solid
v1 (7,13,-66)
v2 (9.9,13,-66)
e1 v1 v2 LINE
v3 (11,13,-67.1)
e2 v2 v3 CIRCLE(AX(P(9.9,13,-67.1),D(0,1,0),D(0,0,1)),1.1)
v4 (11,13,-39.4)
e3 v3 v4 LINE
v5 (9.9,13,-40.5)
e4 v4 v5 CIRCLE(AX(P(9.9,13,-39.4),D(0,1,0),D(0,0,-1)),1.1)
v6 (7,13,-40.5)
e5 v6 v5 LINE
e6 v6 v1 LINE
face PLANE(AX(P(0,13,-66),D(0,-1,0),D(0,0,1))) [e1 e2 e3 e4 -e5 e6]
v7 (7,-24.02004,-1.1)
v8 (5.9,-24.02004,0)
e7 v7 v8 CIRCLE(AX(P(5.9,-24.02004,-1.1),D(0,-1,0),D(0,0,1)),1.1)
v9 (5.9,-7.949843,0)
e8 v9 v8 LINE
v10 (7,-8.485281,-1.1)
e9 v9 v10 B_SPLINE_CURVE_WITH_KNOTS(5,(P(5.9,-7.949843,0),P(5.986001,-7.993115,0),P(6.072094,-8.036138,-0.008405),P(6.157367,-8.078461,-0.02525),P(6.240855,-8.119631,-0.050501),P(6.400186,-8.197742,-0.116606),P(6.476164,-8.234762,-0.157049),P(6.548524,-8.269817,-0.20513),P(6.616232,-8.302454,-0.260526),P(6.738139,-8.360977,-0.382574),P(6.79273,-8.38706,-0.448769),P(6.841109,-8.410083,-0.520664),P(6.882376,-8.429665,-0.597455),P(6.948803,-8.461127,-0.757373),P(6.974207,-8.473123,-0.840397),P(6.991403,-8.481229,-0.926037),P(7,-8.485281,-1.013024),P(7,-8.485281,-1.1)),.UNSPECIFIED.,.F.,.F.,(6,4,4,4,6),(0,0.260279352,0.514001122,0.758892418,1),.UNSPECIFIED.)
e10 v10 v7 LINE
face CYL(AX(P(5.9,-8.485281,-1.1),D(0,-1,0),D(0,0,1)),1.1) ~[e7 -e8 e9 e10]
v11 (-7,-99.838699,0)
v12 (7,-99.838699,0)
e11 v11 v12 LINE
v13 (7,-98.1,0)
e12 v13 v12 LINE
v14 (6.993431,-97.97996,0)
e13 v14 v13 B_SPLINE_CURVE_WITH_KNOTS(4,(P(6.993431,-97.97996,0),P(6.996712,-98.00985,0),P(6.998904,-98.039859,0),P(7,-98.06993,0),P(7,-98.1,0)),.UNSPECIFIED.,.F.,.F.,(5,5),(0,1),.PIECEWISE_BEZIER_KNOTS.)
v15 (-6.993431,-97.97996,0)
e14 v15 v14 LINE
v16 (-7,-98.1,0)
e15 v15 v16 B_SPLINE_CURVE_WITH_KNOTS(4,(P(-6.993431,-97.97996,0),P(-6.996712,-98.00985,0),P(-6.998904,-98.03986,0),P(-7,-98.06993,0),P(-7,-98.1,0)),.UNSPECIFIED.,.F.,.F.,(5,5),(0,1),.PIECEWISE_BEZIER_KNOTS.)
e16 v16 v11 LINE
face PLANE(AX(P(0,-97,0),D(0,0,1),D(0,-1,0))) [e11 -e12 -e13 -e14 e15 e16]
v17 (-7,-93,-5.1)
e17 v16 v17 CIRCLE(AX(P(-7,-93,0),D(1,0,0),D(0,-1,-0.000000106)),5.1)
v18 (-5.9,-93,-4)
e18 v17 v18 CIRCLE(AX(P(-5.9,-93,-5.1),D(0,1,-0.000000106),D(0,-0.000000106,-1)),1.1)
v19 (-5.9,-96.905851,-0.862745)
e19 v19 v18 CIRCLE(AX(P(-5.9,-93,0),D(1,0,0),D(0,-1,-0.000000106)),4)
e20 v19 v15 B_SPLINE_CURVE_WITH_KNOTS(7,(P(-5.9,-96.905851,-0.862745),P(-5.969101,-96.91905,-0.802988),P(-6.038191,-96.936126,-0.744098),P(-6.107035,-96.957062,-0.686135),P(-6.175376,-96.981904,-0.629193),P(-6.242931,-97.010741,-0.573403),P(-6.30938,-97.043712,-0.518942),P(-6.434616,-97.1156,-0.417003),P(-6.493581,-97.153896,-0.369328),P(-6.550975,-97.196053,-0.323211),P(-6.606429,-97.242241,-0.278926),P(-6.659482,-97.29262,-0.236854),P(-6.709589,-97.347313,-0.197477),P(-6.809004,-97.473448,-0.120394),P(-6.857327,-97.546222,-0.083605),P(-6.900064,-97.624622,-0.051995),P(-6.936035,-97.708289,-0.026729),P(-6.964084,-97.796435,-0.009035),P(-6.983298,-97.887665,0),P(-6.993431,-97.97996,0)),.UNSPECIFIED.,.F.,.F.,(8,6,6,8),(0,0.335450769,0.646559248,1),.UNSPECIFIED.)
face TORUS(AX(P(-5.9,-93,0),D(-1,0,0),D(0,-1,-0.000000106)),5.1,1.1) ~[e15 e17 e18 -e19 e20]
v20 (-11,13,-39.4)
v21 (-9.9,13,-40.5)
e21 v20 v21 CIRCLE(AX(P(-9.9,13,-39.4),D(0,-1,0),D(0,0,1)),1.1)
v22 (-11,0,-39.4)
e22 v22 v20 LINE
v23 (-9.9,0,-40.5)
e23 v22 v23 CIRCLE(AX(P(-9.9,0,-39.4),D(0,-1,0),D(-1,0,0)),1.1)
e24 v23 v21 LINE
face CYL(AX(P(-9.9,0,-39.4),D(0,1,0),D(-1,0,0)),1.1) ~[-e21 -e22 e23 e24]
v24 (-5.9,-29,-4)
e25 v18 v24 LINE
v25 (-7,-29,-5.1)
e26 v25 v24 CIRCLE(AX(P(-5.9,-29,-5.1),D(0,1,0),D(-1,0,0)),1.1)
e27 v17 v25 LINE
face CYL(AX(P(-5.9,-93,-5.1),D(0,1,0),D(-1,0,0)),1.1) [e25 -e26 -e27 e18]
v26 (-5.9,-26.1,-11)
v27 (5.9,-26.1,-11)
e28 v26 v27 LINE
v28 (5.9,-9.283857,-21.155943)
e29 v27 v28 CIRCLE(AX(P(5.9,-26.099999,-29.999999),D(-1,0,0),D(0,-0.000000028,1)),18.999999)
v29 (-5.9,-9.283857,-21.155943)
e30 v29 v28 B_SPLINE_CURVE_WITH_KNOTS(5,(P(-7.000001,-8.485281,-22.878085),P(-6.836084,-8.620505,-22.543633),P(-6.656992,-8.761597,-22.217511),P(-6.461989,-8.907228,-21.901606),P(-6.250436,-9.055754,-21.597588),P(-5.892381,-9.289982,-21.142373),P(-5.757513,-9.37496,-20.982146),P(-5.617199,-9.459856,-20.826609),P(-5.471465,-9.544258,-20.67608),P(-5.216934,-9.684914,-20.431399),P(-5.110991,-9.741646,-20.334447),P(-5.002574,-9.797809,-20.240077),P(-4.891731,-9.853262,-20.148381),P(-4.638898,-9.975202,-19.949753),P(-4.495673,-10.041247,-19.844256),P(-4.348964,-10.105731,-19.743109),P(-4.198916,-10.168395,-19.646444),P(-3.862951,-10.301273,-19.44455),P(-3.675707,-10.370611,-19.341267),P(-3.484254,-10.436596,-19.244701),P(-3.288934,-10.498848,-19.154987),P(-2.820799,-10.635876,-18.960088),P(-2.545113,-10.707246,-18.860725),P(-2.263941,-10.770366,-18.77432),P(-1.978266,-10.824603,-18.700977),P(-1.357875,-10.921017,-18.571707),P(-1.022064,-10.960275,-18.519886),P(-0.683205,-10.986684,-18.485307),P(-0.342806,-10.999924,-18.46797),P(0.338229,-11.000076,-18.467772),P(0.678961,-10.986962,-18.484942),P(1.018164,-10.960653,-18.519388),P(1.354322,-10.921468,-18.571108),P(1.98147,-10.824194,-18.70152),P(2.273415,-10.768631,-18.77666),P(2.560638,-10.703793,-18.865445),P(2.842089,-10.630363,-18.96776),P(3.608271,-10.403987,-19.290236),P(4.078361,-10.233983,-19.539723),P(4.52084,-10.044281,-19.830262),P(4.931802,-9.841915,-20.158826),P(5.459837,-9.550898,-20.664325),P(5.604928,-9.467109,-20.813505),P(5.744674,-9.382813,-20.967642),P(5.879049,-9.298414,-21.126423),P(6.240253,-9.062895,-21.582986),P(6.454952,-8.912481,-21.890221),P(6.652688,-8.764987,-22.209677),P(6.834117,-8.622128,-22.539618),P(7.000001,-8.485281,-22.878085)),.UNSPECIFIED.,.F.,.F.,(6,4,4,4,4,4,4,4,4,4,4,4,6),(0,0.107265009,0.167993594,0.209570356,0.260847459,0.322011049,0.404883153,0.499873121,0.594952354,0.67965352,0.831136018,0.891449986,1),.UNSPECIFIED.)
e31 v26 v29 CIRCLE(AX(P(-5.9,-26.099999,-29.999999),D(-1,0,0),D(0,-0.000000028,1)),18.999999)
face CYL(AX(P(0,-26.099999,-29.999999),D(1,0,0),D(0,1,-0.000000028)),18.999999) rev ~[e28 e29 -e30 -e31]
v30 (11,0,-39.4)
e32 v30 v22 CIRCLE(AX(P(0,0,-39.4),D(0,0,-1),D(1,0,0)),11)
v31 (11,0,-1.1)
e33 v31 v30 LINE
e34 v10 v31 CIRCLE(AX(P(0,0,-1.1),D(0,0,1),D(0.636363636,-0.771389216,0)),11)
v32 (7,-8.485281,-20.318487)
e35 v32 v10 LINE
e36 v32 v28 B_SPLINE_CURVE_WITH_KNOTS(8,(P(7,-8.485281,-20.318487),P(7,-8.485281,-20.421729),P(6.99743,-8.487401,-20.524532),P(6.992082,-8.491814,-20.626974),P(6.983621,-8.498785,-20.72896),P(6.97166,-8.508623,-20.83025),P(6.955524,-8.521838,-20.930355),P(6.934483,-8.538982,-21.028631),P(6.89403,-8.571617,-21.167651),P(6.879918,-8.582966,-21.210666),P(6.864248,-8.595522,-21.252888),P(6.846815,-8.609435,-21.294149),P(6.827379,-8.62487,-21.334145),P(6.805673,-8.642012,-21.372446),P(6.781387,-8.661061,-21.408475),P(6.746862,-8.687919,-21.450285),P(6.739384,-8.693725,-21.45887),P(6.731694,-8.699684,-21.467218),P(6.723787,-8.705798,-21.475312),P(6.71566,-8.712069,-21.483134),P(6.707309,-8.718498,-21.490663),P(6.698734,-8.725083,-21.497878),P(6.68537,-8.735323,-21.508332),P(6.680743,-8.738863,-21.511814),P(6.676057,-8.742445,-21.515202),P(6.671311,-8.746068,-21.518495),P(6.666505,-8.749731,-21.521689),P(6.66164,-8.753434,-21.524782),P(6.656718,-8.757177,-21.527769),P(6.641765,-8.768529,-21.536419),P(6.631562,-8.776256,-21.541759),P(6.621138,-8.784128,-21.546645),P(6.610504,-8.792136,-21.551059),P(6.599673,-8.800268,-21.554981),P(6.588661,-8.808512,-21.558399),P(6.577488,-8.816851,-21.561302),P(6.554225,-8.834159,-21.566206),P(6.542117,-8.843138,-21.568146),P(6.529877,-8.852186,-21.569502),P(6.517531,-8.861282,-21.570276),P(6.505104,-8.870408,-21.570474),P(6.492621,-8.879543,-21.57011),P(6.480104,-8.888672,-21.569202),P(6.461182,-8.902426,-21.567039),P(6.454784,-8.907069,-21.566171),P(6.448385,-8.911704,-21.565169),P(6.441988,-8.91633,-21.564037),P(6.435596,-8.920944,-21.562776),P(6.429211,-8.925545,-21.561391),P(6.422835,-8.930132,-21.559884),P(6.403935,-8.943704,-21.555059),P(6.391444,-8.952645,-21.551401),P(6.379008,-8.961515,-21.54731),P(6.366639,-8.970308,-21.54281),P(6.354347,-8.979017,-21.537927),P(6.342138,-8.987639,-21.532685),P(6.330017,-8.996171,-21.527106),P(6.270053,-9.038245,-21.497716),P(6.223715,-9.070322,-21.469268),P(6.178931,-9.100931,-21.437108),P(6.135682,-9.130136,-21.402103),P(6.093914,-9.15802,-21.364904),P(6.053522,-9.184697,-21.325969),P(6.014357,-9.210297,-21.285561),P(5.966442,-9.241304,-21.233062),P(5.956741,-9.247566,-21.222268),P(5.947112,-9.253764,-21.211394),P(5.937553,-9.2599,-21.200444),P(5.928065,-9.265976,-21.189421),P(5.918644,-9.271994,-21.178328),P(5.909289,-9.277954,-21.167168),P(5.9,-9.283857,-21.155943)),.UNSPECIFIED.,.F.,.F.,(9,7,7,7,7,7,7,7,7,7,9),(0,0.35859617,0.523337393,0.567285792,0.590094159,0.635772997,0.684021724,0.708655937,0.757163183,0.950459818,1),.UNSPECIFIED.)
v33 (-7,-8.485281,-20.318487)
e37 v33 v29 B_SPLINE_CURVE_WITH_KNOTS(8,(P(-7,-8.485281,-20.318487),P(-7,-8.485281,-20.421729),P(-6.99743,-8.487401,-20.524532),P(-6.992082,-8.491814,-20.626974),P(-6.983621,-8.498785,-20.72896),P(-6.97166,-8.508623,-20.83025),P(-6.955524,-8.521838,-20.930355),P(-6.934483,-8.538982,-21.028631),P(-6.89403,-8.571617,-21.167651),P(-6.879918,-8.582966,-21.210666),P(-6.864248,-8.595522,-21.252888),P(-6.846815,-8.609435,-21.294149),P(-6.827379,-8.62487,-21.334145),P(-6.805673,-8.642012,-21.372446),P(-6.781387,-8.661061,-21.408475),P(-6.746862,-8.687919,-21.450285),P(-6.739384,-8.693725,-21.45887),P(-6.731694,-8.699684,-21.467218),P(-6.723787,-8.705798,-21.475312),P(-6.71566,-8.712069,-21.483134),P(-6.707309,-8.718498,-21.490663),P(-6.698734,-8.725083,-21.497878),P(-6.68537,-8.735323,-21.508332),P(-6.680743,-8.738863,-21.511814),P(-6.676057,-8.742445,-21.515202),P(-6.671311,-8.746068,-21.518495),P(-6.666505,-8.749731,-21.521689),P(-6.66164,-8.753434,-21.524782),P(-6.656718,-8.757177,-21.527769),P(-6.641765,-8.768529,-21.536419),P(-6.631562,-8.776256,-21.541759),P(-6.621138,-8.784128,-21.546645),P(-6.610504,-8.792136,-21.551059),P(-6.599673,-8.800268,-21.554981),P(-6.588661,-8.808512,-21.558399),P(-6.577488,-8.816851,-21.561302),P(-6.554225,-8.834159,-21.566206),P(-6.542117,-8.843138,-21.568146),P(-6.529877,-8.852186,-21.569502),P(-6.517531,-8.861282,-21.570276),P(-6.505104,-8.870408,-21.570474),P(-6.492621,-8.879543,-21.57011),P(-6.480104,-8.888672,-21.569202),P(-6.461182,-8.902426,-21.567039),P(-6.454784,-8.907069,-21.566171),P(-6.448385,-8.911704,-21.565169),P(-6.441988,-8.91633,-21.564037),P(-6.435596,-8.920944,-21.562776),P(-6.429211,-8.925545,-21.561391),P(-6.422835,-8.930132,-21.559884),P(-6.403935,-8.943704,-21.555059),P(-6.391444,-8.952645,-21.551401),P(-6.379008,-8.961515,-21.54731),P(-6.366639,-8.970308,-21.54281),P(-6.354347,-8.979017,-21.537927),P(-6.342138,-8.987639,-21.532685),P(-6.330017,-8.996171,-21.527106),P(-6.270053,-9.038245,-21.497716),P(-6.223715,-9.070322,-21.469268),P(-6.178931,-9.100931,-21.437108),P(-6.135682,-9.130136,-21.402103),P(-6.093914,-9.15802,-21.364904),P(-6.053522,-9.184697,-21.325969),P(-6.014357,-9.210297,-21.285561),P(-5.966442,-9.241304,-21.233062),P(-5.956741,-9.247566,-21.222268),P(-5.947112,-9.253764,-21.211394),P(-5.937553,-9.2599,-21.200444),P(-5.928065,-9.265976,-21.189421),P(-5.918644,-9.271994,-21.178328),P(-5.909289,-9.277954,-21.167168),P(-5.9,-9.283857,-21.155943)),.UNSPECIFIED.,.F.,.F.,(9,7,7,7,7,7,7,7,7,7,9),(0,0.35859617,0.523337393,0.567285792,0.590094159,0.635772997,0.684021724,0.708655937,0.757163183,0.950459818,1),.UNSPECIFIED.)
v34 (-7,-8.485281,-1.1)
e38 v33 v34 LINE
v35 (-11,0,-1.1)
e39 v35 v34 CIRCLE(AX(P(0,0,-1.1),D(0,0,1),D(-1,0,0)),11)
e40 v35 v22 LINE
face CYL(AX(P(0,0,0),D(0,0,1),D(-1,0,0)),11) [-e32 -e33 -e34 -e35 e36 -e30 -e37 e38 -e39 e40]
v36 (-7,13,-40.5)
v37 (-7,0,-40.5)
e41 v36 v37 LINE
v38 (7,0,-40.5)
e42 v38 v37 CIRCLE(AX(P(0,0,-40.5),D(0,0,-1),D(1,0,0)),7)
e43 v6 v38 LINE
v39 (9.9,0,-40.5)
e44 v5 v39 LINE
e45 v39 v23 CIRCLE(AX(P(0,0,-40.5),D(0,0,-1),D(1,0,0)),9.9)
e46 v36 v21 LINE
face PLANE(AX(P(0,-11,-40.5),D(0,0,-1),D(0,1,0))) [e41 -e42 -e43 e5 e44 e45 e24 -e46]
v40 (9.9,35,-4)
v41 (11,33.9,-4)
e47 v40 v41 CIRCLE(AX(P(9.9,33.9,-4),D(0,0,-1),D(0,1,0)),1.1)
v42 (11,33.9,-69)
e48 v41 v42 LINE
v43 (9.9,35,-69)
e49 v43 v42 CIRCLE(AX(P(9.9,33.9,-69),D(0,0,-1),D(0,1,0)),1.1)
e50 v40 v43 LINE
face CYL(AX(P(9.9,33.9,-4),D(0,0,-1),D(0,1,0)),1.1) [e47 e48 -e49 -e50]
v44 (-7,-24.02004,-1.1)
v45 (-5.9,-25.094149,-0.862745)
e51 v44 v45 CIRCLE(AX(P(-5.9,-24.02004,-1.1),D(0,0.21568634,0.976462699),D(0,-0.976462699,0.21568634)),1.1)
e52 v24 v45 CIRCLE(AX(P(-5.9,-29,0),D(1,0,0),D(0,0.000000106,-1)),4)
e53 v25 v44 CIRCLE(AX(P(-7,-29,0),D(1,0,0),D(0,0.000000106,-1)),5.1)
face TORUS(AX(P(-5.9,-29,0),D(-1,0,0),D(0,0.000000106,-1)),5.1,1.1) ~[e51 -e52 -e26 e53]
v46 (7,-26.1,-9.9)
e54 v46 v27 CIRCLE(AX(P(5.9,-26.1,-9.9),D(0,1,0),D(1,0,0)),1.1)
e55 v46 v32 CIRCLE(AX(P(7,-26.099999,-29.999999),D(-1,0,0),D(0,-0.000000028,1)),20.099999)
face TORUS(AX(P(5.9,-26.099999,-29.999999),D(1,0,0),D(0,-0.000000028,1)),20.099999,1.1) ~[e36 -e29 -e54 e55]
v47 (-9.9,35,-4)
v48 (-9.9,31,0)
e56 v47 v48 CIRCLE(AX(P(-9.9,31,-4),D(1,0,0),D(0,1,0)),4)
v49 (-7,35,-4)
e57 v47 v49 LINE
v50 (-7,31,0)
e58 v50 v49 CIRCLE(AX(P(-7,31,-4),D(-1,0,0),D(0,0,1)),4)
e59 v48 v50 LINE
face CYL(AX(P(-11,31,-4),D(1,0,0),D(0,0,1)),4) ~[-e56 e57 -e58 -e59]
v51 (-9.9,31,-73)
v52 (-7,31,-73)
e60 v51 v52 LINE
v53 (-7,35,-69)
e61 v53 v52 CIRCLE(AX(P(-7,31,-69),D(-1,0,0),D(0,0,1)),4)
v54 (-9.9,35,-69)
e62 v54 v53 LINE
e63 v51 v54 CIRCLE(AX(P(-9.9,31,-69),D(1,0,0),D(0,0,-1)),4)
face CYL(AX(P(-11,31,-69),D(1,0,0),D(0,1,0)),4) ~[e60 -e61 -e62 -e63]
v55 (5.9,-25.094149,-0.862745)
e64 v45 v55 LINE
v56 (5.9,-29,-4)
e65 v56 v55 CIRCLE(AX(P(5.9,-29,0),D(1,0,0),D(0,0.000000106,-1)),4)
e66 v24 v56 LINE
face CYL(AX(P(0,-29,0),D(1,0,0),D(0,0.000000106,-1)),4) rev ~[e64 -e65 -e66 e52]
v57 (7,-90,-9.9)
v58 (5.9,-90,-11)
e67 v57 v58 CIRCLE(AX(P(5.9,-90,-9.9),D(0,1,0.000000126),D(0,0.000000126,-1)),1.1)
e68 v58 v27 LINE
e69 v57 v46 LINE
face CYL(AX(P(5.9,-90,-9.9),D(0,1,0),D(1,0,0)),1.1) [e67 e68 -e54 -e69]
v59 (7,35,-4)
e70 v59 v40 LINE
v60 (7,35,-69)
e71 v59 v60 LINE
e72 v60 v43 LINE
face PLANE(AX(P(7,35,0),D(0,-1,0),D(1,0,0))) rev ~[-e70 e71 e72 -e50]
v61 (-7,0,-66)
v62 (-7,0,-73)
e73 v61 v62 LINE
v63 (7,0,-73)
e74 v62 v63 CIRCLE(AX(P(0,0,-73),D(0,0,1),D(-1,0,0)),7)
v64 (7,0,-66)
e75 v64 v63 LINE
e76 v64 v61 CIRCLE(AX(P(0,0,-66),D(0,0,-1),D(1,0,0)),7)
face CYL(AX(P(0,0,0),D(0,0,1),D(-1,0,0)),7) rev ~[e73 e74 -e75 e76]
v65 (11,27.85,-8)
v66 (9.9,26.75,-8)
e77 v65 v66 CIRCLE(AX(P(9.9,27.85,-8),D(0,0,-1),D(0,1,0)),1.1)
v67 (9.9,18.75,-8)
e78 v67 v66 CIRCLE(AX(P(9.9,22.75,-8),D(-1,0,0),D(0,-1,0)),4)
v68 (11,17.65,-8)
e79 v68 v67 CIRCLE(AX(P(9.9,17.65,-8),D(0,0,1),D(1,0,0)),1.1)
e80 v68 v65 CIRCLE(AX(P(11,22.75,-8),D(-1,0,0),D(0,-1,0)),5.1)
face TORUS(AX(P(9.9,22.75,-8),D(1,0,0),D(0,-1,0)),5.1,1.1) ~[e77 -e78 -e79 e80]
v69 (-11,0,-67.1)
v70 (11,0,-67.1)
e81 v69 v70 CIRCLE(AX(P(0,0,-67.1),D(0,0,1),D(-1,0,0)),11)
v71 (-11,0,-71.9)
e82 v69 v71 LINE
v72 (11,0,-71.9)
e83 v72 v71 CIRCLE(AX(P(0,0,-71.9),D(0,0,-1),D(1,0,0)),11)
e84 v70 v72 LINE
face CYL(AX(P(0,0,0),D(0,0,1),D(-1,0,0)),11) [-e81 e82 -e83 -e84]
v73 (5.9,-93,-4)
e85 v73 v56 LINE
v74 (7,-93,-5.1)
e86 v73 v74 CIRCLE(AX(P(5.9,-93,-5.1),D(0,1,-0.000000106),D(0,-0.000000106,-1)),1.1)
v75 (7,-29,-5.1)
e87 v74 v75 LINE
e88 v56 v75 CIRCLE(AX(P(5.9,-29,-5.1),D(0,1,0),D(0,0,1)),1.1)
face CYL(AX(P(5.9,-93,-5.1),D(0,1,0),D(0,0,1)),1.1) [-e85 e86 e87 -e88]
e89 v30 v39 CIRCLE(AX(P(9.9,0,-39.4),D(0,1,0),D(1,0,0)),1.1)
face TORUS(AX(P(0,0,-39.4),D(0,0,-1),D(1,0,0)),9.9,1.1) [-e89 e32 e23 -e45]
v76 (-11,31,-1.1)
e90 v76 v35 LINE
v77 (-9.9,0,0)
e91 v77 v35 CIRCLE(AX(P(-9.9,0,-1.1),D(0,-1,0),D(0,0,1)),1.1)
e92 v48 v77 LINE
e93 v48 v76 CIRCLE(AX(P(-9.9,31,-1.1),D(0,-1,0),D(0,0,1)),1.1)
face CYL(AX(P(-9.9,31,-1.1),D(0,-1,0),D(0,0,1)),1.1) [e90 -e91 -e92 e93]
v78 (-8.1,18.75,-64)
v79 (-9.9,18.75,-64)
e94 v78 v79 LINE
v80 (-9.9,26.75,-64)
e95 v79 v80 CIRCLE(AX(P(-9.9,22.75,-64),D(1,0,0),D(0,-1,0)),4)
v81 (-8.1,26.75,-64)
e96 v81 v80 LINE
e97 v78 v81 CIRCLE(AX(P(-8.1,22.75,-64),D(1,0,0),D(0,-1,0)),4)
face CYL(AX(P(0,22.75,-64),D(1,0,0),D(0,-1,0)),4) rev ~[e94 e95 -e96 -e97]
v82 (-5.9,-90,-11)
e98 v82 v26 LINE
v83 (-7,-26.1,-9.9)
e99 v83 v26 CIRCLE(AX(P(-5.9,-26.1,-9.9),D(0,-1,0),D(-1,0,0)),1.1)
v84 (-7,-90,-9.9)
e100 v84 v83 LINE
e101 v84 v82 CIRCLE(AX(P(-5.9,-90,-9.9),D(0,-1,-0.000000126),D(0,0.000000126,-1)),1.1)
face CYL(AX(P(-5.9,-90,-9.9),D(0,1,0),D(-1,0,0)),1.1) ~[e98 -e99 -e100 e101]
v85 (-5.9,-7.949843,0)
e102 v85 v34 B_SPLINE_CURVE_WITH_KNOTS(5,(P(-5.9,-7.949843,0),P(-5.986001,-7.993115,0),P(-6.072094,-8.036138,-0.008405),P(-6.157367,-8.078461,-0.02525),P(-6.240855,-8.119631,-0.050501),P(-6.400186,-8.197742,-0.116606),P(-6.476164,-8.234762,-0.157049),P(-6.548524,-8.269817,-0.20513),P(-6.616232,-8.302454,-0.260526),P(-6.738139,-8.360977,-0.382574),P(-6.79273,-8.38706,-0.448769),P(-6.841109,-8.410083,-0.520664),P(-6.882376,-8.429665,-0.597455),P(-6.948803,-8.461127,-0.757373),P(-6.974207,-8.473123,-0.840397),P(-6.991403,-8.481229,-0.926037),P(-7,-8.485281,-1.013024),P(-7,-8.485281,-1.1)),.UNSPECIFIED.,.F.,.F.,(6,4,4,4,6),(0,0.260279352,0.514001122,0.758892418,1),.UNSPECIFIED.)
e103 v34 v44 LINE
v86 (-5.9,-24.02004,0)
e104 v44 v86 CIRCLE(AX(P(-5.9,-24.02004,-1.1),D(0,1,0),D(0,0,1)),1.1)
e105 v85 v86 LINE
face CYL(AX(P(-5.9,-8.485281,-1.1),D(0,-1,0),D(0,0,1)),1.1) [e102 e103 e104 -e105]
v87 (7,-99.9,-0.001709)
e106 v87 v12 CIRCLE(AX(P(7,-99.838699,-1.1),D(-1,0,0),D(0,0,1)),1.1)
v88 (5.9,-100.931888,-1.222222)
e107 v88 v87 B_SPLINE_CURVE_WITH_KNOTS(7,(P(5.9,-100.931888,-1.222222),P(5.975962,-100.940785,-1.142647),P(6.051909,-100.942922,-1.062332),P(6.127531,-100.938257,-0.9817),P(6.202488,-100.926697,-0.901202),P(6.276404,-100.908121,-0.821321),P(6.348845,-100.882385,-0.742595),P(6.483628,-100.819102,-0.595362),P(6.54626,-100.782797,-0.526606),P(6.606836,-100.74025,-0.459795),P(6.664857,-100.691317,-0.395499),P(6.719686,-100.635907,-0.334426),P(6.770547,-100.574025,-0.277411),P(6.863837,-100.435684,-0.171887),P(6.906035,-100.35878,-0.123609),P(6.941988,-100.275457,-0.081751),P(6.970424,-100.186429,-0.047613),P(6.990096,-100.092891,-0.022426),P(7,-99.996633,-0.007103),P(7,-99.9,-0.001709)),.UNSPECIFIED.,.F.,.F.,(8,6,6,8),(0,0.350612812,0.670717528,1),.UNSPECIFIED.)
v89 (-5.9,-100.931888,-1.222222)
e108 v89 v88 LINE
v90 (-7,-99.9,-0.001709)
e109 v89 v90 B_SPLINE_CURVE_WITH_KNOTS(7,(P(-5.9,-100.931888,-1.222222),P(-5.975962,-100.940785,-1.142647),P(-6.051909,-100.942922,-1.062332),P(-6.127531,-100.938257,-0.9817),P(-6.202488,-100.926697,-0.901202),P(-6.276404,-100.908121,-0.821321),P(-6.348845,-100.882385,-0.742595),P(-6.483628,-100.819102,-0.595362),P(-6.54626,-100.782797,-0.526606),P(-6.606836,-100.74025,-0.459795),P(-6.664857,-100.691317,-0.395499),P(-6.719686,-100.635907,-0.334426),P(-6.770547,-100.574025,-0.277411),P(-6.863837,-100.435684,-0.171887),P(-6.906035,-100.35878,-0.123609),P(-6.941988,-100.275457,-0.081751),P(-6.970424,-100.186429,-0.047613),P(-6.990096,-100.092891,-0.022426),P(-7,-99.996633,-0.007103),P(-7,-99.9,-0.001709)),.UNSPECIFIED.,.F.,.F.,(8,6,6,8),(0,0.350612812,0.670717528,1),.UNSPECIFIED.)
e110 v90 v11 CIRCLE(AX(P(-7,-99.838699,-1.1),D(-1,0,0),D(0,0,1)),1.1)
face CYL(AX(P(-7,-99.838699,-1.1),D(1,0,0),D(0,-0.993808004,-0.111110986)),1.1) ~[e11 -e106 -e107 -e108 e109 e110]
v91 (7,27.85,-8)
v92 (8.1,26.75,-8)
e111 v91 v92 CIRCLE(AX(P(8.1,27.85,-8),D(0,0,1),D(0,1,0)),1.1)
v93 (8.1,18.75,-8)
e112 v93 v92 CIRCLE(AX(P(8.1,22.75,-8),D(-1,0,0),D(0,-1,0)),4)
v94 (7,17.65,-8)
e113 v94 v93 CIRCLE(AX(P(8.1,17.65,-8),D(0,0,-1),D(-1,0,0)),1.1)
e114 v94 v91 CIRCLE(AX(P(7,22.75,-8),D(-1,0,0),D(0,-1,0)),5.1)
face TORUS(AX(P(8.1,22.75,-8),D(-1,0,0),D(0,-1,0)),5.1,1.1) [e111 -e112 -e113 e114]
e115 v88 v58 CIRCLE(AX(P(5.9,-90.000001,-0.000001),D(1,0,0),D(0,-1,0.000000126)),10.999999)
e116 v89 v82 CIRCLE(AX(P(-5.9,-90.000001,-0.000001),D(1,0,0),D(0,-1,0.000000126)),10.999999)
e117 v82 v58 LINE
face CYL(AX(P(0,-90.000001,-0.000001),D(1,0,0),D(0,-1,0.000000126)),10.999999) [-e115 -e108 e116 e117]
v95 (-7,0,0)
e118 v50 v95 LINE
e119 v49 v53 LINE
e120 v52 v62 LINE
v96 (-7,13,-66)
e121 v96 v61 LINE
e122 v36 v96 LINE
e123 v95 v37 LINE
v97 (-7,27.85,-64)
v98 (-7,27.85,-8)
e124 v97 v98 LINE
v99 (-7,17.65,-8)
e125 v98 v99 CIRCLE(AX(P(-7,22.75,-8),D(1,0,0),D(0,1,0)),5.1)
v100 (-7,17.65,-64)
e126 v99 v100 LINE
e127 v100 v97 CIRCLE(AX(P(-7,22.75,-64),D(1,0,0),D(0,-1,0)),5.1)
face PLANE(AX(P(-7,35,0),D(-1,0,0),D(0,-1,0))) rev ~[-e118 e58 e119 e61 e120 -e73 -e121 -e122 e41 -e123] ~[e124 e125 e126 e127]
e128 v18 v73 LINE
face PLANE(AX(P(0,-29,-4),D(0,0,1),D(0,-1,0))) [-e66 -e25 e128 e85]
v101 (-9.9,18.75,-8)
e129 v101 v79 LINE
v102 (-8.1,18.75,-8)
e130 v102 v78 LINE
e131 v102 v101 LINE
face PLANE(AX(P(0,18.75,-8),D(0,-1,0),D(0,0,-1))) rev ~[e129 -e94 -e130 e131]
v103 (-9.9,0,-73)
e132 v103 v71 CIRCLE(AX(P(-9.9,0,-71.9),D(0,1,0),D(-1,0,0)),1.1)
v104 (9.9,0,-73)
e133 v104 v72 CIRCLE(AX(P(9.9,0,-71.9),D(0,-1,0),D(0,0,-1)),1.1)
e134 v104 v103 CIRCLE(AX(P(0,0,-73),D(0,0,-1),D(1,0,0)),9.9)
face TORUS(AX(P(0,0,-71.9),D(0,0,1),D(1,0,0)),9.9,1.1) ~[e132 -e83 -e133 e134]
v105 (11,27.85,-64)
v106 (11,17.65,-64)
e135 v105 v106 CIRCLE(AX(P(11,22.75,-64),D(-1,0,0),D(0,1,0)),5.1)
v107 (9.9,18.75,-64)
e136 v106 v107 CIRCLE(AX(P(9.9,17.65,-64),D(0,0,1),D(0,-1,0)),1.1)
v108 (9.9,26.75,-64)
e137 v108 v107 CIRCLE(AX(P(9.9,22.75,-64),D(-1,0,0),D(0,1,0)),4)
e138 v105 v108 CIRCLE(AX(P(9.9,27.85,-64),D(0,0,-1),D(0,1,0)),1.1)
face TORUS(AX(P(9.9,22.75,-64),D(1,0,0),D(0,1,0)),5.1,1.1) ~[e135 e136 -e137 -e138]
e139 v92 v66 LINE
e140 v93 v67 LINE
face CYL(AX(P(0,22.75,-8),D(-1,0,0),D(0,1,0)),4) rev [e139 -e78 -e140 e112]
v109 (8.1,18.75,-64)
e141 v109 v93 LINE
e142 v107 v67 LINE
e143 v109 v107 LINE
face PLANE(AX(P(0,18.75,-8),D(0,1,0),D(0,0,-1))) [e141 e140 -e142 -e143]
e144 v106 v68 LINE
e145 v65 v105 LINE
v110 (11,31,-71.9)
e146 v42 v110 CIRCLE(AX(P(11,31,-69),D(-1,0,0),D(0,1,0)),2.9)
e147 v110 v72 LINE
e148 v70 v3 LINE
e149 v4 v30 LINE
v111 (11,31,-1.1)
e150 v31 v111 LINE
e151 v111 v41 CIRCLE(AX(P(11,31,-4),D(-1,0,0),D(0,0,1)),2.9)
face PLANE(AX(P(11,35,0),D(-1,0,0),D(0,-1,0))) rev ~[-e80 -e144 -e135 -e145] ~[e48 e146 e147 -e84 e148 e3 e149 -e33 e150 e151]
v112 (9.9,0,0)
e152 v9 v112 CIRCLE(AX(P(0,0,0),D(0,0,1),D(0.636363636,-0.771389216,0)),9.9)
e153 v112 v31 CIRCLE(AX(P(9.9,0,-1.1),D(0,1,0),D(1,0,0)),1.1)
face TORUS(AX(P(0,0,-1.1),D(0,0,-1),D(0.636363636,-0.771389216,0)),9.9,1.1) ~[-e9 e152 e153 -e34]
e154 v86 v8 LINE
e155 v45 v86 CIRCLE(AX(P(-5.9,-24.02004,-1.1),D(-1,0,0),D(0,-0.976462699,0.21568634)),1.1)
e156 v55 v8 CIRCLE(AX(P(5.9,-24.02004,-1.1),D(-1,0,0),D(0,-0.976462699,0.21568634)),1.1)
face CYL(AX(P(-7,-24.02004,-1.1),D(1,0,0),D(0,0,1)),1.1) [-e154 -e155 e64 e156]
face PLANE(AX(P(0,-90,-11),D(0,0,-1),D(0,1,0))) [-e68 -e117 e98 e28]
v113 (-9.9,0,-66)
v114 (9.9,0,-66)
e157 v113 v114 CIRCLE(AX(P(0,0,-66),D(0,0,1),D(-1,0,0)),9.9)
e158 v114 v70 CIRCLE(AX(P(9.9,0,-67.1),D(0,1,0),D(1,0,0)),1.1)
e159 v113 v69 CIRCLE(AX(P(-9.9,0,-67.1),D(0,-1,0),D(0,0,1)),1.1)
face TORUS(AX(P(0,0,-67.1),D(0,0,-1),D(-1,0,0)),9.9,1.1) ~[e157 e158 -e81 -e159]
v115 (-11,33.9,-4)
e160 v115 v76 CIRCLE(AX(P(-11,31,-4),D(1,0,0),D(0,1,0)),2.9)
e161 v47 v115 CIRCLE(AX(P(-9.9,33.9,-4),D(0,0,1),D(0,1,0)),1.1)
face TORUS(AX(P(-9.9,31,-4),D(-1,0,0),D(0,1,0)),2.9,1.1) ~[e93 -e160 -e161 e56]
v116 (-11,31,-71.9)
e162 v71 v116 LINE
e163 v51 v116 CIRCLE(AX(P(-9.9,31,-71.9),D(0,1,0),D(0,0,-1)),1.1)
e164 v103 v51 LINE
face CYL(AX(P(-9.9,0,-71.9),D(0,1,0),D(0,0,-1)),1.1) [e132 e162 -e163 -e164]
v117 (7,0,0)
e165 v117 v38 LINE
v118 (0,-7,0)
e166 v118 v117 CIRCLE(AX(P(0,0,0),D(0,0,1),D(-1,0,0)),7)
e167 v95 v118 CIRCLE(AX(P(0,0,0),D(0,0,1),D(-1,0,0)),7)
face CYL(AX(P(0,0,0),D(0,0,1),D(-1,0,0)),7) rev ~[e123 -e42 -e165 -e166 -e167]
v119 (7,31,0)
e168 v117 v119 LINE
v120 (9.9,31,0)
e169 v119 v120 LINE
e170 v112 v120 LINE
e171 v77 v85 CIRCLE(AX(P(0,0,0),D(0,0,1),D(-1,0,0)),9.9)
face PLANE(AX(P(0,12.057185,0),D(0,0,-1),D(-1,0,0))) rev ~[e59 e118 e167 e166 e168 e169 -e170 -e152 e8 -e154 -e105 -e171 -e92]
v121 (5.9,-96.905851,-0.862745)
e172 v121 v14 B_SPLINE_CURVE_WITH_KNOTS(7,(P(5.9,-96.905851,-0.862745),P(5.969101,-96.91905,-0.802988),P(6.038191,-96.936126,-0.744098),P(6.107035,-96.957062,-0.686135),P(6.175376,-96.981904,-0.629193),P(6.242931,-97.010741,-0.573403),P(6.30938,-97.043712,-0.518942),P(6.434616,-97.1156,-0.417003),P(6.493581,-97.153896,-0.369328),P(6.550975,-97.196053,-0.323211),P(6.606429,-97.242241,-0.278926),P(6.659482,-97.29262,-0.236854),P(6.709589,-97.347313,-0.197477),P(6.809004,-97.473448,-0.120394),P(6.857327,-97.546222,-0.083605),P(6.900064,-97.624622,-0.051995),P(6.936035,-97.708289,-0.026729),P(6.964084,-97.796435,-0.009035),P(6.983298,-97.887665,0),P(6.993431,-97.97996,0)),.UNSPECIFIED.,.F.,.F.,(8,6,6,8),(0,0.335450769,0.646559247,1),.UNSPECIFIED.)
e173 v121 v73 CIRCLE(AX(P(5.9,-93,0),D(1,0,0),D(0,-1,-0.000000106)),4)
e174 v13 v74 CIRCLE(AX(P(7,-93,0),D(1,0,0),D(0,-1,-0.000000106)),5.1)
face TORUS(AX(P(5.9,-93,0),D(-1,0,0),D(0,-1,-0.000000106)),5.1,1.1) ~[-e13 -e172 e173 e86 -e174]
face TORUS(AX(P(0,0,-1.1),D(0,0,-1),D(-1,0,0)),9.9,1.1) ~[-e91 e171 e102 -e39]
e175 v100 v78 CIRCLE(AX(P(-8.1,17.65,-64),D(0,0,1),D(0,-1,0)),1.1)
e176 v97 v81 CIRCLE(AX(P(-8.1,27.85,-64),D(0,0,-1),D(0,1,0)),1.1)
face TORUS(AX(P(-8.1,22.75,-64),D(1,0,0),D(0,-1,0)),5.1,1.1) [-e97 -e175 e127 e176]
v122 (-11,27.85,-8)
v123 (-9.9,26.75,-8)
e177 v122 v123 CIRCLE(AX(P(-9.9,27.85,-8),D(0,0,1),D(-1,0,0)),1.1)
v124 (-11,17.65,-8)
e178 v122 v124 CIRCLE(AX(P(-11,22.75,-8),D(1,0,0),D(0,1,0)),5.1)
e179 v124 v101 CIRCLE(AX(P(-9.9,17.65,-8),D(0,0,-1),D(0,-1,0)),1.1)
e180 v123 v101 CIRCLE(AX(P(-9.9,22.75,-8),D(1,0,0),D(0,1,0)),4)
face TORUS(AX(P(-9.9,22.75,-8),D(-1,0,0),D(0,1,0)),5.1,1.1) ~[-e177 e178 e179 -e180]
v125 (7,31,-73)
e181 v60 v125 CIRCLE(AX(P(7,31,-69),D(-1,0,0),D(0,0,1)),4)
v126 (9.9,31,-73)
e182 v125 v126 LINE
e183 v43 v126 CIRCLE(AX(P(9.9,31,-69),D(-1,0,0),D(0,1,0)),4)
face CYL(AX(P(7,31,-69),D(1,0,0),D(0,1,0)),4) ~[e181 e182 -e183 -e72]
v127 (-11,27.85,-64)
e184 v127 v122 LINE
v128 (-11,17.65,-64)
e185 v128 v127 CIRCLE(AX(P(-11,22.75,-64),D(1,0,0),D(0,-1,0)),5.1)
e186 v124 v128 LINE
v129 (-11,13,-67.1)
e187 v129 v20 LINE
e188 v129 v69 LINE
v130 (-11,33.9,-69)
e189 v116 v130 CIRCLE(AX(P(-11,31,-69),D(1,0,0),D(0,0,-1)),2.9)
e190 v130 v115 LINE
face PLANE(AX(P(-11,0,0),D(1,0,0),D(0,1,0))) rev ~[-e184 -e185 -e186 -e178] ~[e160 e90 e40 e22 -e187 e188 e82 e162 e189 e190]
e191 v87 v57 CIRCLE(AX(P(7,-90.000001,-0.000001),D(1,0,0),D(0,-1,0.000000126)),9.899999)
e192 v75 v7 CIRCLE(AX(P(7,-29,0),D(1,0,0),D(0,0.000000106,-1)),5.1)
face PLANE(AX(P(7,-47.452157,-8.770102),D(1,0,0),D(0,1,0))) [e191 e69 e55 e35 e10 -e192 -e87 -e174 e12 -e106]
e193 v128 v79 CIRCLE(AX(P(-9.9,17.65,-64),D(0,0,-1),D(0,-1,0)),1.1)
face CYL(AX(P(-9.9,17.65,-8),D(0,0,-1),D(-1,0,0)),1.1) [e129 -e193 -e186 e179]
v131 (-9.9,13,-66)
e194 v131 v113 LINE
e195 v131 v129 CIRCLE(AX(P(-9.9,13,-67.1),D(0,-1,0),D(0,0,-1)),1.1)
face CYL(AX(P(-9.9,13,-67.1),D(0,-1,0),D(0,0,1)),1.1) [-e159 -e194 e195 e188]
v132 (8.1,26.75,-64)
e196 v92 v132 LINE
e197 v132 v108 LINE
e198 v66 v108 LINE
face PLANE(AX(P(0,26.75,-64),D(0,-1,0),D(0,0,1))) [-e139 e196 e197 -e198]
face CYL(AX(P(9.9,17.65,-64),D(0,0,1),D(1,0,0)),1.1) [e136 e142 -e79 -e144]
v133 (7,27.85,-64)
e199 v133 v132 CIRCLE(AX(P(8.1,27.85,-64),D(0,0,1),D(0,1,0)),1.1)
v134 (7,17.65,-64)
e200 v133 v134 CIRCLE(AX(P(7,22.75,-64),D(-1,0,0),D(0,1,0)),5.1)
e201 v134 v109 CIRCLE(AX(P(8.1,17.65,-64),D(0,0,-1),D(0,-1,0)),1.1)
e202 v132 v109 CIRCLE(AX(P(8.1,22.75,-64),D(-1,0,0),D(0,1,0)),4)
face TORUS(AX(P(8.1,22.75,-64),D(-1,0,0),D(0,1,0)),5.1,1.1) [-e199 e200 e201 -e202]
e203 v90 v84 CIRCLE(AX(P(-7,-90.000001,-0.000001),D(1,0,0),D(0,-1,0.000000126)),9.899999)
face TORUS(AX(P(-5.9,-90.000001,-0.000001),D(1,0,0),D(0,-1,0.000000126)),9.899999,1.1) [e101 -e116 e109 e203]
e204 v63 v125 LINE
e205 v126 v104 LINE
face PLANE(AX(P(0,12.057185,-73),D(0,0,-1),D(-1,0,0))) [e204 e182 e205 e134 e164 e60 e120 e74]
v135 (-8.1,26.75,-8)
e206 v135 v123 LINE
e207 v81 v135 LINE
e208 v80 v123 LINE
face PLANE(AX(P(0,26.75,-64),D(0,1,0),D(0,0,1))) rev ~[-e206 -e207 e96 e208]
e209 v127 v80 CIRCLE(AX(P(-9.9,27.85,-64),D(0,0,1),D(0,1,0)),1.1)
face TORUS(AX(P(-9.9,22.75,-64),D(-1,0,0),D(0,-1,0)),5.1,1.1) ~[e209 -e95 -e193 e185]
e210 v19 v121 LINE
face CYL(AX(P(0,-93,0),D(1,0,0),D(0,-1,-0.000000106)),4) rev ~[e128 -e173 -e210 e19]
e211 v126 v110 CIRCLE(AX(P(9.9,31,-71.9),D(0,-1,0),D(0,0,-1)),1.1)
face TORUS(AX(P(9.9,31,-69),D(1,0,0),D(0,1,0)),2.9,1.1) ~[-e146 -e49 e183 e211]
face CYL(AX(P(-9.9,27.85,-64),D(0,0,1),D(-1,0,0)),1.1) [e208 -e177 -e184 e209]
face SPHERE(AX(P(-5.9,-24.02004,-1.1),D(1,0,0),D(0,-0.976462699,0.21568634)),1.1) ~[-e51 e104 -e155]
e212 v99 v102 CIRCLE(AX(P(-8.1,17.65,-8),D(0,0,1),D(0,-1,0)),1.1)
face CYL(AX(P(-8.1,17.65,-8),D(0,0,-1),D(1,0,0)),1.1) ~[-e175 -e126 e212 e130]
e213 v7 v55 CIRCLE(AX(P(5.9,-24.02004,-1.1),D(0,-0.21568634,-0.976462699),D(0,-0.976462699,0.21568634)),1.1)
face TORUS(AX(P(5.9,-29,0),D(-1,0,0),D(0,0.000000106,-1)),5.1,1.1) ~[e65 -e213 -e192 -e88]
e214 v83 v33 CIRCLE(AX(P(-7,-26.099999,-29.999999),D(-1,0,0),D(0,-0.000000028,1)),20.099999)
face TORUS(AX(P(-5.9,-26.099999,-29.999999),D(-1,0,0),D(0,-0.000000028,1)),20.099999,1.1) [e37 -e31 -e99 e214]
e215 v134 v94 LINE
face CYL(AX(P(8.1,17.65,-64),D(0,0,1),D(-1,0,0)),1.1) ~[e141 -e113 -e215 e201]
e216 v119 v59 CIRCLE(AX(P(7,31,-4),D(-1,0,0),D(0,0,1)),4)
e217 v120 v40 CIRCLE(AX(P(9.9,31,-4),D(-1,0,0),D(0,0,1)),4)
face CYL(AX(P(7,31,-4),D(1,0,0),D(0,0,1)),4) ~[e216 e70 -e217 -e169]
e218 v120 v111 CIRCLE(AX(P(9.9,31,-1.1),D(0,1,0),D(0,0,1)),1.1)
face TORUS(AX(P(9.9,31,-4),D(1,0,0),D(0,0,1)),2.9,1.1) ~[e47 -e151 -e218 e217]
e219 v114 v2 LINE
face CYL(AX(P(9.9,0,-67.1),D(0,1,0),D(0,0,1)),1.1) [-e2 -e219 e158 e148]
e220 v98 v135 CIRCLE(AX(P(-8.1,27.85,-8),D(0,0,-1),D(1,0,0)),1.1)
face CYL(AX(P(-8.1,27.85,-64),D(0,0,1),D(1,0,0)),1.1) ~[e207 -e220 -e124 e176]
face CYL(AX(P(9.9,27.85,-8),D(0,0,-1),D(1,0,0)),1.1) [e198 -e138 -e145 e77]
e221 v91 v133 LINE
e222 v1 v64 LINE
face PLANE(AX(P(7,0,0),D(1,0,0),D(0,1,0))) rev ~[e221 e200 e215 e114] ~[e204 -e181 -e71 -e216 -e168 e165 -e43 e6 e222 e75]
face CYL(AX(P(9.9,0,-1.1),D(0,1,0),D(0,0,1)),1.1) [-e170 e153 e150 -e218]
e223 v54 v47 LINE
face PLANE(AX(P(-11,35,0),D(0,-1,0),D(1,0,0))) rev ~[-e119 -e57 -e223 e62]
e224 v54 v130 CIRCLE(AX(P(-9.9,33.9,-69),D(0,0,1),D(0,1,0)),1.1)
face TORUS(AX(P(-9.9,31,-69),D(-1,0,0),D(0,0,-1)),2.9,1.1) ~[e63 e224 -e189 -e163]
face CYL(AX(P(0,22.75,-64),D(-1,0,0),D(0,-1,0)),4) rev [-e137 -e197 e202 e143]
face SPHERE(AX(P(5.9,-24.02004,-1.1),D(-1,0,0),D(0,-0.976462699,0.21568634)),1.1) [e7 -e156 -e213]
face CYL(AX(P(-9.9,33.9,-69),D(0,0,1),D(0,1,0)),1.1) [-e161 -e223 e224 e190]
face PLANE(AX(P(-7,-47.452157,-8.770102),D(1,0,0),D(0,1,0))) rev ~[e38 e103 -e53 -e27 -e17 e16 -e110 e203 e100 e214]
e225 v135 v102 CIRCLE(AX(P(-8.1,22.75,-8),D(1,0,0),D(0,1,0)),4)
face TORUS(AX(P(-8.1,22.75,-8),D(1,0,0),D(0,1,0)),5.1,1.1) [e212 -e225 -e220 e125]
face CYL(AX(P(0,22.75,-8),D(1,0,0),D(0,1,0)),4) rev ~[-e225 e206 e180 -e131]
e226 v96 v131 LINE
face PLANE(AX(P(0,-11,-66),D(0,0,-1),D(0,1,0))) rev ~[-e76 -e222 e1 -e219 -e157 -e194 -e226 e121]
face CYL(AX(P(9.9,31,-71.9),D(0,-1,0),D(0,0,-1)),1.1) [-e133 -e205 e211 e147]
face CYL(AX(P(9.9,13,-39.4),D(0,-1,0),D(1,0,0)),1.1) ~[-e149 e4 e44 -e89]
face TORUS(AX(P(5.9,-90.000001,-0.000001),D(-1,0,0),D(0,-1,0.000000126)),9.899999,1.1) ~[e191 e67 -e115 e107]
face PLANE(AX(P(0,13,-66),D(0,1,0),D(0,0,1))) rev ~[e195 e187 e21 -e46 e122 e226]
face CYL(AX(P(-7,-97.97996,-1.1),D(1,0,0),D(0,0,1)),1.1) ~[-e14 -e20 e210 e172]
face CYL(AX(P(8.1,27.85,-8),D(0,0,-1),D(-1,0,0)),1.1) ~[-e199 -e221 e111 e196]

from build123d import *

# Parameters (mm, degrees)
PAD004_DEPTH         = 73
POCKET001_DEPTH      = 11.001
POCKET001_DEPTH_BACK = 11.001
SKETCH009_W          = 24
SKETCH009_H          = 25.5
POCKET002_DEPTH      = 11.001
POCKET002_DEPTH_BACK = 11.001
PAD005_DEPTH         = 7
FILLET002_R          = 4
FILLET003_R          = 1.1


with BuildPart() as part:
    # Sketch007 → Pad004 (new body)
    with BuildSketch(Plane.XY):
        with BuildLine():
            Line((-7, 35), (-7, 0))
            ThreePointArc((-7, 0), (0, -7), (7, 0))
            Line((7, 0), (7, 35))
            Line((7, 35), (11, 35))
            Line((11, 35), (11, 0))
            ThreePointArc((-11, 0), (0, -11), (11, 0))
            Line((-11, 0), (-11, 35))
            Line((-11, 35), (-7, 35))
        make_face()
    extrude(amount=-PAD004_DEPTH)

    # Sketch008 → Pocket001 (cut, two sides)
    with BuildSketch(Plane.YZ) as pocket001_sk:
        with BuildLine():
            ThreePointArc((26.75, -8), (22.75, -4), (18.75, -8))
            Line((18.75, -8), (18.75, -64))
            ThreePointArc((18.75, -64), (22.75, -68), (26.75, -64))
            Line((26.75, -64), (26.75, -8))
        make_face()
    extrude(amount=-POCKET001_DEPTH, mode=Mode.SUBTRACT)
    extrude(pocket001_sk.sketch, amount=POCKET001_DEPTH_BACK, mode=Mode.SUBTRACT)

    # Sketch009 → Pocket002 (cut, two sides)
    with BuildSketch(Plane.YZ) as pocket002_sk:
        with Locations((1, -53.25)):
            Rectangle(SKETCH009_W, SKETCH009_H)
    extrude(amount=-POCKET002_DEPTH, mode=Mode.SUBTRACT)
    extrude(pocket002_sk.sketch, amount=POCKET002_DEPTH_BACK, mode=Mode.SUBTRACT)

    # Sketch010 → Pad005 (join, symmetric)
    with BuildSketch(Plane.YZ):
        with BuildLine():
            Line((-7, 0), (-25, 0))
            ThreePointArc((-29, -4), (-26.171573, -2.828427), (-25, 0))
            Line((-29, -4), (-93, -4))
            ThreePointArc((-97, 0), (-95.828427, -2.828427), (-93, -4))
            Line((-97, 0), (-101, 0))
            ThreePointArc((-101, 0), (-97.778175, -7.778175), (-90, -11))
            Line((-90, -11), (-26.1, -11))
            ThreePointArc((-7.1, -30), (-12.664971, -16.564971), (-26.1, -11))
            Line((-7.1, -30), (-7, -30))
            Line((-7, -30), (-7, 0))
        make_face()
    extrude(amount=PAD005_DEPTH, both=True)

    # Fillet002
    fillet002_edges = [part.edges().sort_by_distance(p)[0] for p in [
        (9, 35, 0),
        (-9, 35, 0),
        (-9, 35, -73),
        (9, 35, -73),
    ]]
    fillet(fillet002_edges, radius=FILLET002_R)

    # Fillet003
    fillet003_edges = [part.edges().sort_by_distance(p)[0] for p in [
        (9.949874, -4.690416, 0),
        (7, -16.742641, 0),
        (11, 15.5, 0),
        (-7, -16.742641, 0),
        (0, -25, 0),
        (-7, -26.171573, -2.828427),
        (7, -26.171573, -2.828427),
        (7, -95.828427, -2.828427),
        (-7, -95.828427, -2.828427),
        (0, -97, 0),
        (0, -101, 0),
        (7, -97.778175, -7.778175),
        (-7, -97.778175, -7.778175),
        (7.778175, -7.778175, -40.5),
        (7.778175, -7.778175, -66),
        (-7, 22.75, -68),
        (11, 22.75, -68),
        (-11, 22.75, -68),
        (7, 22.75, -68),
    ]]
    fillet(fillet003_edges, radius=FILLET003_R)


solid = part.part
